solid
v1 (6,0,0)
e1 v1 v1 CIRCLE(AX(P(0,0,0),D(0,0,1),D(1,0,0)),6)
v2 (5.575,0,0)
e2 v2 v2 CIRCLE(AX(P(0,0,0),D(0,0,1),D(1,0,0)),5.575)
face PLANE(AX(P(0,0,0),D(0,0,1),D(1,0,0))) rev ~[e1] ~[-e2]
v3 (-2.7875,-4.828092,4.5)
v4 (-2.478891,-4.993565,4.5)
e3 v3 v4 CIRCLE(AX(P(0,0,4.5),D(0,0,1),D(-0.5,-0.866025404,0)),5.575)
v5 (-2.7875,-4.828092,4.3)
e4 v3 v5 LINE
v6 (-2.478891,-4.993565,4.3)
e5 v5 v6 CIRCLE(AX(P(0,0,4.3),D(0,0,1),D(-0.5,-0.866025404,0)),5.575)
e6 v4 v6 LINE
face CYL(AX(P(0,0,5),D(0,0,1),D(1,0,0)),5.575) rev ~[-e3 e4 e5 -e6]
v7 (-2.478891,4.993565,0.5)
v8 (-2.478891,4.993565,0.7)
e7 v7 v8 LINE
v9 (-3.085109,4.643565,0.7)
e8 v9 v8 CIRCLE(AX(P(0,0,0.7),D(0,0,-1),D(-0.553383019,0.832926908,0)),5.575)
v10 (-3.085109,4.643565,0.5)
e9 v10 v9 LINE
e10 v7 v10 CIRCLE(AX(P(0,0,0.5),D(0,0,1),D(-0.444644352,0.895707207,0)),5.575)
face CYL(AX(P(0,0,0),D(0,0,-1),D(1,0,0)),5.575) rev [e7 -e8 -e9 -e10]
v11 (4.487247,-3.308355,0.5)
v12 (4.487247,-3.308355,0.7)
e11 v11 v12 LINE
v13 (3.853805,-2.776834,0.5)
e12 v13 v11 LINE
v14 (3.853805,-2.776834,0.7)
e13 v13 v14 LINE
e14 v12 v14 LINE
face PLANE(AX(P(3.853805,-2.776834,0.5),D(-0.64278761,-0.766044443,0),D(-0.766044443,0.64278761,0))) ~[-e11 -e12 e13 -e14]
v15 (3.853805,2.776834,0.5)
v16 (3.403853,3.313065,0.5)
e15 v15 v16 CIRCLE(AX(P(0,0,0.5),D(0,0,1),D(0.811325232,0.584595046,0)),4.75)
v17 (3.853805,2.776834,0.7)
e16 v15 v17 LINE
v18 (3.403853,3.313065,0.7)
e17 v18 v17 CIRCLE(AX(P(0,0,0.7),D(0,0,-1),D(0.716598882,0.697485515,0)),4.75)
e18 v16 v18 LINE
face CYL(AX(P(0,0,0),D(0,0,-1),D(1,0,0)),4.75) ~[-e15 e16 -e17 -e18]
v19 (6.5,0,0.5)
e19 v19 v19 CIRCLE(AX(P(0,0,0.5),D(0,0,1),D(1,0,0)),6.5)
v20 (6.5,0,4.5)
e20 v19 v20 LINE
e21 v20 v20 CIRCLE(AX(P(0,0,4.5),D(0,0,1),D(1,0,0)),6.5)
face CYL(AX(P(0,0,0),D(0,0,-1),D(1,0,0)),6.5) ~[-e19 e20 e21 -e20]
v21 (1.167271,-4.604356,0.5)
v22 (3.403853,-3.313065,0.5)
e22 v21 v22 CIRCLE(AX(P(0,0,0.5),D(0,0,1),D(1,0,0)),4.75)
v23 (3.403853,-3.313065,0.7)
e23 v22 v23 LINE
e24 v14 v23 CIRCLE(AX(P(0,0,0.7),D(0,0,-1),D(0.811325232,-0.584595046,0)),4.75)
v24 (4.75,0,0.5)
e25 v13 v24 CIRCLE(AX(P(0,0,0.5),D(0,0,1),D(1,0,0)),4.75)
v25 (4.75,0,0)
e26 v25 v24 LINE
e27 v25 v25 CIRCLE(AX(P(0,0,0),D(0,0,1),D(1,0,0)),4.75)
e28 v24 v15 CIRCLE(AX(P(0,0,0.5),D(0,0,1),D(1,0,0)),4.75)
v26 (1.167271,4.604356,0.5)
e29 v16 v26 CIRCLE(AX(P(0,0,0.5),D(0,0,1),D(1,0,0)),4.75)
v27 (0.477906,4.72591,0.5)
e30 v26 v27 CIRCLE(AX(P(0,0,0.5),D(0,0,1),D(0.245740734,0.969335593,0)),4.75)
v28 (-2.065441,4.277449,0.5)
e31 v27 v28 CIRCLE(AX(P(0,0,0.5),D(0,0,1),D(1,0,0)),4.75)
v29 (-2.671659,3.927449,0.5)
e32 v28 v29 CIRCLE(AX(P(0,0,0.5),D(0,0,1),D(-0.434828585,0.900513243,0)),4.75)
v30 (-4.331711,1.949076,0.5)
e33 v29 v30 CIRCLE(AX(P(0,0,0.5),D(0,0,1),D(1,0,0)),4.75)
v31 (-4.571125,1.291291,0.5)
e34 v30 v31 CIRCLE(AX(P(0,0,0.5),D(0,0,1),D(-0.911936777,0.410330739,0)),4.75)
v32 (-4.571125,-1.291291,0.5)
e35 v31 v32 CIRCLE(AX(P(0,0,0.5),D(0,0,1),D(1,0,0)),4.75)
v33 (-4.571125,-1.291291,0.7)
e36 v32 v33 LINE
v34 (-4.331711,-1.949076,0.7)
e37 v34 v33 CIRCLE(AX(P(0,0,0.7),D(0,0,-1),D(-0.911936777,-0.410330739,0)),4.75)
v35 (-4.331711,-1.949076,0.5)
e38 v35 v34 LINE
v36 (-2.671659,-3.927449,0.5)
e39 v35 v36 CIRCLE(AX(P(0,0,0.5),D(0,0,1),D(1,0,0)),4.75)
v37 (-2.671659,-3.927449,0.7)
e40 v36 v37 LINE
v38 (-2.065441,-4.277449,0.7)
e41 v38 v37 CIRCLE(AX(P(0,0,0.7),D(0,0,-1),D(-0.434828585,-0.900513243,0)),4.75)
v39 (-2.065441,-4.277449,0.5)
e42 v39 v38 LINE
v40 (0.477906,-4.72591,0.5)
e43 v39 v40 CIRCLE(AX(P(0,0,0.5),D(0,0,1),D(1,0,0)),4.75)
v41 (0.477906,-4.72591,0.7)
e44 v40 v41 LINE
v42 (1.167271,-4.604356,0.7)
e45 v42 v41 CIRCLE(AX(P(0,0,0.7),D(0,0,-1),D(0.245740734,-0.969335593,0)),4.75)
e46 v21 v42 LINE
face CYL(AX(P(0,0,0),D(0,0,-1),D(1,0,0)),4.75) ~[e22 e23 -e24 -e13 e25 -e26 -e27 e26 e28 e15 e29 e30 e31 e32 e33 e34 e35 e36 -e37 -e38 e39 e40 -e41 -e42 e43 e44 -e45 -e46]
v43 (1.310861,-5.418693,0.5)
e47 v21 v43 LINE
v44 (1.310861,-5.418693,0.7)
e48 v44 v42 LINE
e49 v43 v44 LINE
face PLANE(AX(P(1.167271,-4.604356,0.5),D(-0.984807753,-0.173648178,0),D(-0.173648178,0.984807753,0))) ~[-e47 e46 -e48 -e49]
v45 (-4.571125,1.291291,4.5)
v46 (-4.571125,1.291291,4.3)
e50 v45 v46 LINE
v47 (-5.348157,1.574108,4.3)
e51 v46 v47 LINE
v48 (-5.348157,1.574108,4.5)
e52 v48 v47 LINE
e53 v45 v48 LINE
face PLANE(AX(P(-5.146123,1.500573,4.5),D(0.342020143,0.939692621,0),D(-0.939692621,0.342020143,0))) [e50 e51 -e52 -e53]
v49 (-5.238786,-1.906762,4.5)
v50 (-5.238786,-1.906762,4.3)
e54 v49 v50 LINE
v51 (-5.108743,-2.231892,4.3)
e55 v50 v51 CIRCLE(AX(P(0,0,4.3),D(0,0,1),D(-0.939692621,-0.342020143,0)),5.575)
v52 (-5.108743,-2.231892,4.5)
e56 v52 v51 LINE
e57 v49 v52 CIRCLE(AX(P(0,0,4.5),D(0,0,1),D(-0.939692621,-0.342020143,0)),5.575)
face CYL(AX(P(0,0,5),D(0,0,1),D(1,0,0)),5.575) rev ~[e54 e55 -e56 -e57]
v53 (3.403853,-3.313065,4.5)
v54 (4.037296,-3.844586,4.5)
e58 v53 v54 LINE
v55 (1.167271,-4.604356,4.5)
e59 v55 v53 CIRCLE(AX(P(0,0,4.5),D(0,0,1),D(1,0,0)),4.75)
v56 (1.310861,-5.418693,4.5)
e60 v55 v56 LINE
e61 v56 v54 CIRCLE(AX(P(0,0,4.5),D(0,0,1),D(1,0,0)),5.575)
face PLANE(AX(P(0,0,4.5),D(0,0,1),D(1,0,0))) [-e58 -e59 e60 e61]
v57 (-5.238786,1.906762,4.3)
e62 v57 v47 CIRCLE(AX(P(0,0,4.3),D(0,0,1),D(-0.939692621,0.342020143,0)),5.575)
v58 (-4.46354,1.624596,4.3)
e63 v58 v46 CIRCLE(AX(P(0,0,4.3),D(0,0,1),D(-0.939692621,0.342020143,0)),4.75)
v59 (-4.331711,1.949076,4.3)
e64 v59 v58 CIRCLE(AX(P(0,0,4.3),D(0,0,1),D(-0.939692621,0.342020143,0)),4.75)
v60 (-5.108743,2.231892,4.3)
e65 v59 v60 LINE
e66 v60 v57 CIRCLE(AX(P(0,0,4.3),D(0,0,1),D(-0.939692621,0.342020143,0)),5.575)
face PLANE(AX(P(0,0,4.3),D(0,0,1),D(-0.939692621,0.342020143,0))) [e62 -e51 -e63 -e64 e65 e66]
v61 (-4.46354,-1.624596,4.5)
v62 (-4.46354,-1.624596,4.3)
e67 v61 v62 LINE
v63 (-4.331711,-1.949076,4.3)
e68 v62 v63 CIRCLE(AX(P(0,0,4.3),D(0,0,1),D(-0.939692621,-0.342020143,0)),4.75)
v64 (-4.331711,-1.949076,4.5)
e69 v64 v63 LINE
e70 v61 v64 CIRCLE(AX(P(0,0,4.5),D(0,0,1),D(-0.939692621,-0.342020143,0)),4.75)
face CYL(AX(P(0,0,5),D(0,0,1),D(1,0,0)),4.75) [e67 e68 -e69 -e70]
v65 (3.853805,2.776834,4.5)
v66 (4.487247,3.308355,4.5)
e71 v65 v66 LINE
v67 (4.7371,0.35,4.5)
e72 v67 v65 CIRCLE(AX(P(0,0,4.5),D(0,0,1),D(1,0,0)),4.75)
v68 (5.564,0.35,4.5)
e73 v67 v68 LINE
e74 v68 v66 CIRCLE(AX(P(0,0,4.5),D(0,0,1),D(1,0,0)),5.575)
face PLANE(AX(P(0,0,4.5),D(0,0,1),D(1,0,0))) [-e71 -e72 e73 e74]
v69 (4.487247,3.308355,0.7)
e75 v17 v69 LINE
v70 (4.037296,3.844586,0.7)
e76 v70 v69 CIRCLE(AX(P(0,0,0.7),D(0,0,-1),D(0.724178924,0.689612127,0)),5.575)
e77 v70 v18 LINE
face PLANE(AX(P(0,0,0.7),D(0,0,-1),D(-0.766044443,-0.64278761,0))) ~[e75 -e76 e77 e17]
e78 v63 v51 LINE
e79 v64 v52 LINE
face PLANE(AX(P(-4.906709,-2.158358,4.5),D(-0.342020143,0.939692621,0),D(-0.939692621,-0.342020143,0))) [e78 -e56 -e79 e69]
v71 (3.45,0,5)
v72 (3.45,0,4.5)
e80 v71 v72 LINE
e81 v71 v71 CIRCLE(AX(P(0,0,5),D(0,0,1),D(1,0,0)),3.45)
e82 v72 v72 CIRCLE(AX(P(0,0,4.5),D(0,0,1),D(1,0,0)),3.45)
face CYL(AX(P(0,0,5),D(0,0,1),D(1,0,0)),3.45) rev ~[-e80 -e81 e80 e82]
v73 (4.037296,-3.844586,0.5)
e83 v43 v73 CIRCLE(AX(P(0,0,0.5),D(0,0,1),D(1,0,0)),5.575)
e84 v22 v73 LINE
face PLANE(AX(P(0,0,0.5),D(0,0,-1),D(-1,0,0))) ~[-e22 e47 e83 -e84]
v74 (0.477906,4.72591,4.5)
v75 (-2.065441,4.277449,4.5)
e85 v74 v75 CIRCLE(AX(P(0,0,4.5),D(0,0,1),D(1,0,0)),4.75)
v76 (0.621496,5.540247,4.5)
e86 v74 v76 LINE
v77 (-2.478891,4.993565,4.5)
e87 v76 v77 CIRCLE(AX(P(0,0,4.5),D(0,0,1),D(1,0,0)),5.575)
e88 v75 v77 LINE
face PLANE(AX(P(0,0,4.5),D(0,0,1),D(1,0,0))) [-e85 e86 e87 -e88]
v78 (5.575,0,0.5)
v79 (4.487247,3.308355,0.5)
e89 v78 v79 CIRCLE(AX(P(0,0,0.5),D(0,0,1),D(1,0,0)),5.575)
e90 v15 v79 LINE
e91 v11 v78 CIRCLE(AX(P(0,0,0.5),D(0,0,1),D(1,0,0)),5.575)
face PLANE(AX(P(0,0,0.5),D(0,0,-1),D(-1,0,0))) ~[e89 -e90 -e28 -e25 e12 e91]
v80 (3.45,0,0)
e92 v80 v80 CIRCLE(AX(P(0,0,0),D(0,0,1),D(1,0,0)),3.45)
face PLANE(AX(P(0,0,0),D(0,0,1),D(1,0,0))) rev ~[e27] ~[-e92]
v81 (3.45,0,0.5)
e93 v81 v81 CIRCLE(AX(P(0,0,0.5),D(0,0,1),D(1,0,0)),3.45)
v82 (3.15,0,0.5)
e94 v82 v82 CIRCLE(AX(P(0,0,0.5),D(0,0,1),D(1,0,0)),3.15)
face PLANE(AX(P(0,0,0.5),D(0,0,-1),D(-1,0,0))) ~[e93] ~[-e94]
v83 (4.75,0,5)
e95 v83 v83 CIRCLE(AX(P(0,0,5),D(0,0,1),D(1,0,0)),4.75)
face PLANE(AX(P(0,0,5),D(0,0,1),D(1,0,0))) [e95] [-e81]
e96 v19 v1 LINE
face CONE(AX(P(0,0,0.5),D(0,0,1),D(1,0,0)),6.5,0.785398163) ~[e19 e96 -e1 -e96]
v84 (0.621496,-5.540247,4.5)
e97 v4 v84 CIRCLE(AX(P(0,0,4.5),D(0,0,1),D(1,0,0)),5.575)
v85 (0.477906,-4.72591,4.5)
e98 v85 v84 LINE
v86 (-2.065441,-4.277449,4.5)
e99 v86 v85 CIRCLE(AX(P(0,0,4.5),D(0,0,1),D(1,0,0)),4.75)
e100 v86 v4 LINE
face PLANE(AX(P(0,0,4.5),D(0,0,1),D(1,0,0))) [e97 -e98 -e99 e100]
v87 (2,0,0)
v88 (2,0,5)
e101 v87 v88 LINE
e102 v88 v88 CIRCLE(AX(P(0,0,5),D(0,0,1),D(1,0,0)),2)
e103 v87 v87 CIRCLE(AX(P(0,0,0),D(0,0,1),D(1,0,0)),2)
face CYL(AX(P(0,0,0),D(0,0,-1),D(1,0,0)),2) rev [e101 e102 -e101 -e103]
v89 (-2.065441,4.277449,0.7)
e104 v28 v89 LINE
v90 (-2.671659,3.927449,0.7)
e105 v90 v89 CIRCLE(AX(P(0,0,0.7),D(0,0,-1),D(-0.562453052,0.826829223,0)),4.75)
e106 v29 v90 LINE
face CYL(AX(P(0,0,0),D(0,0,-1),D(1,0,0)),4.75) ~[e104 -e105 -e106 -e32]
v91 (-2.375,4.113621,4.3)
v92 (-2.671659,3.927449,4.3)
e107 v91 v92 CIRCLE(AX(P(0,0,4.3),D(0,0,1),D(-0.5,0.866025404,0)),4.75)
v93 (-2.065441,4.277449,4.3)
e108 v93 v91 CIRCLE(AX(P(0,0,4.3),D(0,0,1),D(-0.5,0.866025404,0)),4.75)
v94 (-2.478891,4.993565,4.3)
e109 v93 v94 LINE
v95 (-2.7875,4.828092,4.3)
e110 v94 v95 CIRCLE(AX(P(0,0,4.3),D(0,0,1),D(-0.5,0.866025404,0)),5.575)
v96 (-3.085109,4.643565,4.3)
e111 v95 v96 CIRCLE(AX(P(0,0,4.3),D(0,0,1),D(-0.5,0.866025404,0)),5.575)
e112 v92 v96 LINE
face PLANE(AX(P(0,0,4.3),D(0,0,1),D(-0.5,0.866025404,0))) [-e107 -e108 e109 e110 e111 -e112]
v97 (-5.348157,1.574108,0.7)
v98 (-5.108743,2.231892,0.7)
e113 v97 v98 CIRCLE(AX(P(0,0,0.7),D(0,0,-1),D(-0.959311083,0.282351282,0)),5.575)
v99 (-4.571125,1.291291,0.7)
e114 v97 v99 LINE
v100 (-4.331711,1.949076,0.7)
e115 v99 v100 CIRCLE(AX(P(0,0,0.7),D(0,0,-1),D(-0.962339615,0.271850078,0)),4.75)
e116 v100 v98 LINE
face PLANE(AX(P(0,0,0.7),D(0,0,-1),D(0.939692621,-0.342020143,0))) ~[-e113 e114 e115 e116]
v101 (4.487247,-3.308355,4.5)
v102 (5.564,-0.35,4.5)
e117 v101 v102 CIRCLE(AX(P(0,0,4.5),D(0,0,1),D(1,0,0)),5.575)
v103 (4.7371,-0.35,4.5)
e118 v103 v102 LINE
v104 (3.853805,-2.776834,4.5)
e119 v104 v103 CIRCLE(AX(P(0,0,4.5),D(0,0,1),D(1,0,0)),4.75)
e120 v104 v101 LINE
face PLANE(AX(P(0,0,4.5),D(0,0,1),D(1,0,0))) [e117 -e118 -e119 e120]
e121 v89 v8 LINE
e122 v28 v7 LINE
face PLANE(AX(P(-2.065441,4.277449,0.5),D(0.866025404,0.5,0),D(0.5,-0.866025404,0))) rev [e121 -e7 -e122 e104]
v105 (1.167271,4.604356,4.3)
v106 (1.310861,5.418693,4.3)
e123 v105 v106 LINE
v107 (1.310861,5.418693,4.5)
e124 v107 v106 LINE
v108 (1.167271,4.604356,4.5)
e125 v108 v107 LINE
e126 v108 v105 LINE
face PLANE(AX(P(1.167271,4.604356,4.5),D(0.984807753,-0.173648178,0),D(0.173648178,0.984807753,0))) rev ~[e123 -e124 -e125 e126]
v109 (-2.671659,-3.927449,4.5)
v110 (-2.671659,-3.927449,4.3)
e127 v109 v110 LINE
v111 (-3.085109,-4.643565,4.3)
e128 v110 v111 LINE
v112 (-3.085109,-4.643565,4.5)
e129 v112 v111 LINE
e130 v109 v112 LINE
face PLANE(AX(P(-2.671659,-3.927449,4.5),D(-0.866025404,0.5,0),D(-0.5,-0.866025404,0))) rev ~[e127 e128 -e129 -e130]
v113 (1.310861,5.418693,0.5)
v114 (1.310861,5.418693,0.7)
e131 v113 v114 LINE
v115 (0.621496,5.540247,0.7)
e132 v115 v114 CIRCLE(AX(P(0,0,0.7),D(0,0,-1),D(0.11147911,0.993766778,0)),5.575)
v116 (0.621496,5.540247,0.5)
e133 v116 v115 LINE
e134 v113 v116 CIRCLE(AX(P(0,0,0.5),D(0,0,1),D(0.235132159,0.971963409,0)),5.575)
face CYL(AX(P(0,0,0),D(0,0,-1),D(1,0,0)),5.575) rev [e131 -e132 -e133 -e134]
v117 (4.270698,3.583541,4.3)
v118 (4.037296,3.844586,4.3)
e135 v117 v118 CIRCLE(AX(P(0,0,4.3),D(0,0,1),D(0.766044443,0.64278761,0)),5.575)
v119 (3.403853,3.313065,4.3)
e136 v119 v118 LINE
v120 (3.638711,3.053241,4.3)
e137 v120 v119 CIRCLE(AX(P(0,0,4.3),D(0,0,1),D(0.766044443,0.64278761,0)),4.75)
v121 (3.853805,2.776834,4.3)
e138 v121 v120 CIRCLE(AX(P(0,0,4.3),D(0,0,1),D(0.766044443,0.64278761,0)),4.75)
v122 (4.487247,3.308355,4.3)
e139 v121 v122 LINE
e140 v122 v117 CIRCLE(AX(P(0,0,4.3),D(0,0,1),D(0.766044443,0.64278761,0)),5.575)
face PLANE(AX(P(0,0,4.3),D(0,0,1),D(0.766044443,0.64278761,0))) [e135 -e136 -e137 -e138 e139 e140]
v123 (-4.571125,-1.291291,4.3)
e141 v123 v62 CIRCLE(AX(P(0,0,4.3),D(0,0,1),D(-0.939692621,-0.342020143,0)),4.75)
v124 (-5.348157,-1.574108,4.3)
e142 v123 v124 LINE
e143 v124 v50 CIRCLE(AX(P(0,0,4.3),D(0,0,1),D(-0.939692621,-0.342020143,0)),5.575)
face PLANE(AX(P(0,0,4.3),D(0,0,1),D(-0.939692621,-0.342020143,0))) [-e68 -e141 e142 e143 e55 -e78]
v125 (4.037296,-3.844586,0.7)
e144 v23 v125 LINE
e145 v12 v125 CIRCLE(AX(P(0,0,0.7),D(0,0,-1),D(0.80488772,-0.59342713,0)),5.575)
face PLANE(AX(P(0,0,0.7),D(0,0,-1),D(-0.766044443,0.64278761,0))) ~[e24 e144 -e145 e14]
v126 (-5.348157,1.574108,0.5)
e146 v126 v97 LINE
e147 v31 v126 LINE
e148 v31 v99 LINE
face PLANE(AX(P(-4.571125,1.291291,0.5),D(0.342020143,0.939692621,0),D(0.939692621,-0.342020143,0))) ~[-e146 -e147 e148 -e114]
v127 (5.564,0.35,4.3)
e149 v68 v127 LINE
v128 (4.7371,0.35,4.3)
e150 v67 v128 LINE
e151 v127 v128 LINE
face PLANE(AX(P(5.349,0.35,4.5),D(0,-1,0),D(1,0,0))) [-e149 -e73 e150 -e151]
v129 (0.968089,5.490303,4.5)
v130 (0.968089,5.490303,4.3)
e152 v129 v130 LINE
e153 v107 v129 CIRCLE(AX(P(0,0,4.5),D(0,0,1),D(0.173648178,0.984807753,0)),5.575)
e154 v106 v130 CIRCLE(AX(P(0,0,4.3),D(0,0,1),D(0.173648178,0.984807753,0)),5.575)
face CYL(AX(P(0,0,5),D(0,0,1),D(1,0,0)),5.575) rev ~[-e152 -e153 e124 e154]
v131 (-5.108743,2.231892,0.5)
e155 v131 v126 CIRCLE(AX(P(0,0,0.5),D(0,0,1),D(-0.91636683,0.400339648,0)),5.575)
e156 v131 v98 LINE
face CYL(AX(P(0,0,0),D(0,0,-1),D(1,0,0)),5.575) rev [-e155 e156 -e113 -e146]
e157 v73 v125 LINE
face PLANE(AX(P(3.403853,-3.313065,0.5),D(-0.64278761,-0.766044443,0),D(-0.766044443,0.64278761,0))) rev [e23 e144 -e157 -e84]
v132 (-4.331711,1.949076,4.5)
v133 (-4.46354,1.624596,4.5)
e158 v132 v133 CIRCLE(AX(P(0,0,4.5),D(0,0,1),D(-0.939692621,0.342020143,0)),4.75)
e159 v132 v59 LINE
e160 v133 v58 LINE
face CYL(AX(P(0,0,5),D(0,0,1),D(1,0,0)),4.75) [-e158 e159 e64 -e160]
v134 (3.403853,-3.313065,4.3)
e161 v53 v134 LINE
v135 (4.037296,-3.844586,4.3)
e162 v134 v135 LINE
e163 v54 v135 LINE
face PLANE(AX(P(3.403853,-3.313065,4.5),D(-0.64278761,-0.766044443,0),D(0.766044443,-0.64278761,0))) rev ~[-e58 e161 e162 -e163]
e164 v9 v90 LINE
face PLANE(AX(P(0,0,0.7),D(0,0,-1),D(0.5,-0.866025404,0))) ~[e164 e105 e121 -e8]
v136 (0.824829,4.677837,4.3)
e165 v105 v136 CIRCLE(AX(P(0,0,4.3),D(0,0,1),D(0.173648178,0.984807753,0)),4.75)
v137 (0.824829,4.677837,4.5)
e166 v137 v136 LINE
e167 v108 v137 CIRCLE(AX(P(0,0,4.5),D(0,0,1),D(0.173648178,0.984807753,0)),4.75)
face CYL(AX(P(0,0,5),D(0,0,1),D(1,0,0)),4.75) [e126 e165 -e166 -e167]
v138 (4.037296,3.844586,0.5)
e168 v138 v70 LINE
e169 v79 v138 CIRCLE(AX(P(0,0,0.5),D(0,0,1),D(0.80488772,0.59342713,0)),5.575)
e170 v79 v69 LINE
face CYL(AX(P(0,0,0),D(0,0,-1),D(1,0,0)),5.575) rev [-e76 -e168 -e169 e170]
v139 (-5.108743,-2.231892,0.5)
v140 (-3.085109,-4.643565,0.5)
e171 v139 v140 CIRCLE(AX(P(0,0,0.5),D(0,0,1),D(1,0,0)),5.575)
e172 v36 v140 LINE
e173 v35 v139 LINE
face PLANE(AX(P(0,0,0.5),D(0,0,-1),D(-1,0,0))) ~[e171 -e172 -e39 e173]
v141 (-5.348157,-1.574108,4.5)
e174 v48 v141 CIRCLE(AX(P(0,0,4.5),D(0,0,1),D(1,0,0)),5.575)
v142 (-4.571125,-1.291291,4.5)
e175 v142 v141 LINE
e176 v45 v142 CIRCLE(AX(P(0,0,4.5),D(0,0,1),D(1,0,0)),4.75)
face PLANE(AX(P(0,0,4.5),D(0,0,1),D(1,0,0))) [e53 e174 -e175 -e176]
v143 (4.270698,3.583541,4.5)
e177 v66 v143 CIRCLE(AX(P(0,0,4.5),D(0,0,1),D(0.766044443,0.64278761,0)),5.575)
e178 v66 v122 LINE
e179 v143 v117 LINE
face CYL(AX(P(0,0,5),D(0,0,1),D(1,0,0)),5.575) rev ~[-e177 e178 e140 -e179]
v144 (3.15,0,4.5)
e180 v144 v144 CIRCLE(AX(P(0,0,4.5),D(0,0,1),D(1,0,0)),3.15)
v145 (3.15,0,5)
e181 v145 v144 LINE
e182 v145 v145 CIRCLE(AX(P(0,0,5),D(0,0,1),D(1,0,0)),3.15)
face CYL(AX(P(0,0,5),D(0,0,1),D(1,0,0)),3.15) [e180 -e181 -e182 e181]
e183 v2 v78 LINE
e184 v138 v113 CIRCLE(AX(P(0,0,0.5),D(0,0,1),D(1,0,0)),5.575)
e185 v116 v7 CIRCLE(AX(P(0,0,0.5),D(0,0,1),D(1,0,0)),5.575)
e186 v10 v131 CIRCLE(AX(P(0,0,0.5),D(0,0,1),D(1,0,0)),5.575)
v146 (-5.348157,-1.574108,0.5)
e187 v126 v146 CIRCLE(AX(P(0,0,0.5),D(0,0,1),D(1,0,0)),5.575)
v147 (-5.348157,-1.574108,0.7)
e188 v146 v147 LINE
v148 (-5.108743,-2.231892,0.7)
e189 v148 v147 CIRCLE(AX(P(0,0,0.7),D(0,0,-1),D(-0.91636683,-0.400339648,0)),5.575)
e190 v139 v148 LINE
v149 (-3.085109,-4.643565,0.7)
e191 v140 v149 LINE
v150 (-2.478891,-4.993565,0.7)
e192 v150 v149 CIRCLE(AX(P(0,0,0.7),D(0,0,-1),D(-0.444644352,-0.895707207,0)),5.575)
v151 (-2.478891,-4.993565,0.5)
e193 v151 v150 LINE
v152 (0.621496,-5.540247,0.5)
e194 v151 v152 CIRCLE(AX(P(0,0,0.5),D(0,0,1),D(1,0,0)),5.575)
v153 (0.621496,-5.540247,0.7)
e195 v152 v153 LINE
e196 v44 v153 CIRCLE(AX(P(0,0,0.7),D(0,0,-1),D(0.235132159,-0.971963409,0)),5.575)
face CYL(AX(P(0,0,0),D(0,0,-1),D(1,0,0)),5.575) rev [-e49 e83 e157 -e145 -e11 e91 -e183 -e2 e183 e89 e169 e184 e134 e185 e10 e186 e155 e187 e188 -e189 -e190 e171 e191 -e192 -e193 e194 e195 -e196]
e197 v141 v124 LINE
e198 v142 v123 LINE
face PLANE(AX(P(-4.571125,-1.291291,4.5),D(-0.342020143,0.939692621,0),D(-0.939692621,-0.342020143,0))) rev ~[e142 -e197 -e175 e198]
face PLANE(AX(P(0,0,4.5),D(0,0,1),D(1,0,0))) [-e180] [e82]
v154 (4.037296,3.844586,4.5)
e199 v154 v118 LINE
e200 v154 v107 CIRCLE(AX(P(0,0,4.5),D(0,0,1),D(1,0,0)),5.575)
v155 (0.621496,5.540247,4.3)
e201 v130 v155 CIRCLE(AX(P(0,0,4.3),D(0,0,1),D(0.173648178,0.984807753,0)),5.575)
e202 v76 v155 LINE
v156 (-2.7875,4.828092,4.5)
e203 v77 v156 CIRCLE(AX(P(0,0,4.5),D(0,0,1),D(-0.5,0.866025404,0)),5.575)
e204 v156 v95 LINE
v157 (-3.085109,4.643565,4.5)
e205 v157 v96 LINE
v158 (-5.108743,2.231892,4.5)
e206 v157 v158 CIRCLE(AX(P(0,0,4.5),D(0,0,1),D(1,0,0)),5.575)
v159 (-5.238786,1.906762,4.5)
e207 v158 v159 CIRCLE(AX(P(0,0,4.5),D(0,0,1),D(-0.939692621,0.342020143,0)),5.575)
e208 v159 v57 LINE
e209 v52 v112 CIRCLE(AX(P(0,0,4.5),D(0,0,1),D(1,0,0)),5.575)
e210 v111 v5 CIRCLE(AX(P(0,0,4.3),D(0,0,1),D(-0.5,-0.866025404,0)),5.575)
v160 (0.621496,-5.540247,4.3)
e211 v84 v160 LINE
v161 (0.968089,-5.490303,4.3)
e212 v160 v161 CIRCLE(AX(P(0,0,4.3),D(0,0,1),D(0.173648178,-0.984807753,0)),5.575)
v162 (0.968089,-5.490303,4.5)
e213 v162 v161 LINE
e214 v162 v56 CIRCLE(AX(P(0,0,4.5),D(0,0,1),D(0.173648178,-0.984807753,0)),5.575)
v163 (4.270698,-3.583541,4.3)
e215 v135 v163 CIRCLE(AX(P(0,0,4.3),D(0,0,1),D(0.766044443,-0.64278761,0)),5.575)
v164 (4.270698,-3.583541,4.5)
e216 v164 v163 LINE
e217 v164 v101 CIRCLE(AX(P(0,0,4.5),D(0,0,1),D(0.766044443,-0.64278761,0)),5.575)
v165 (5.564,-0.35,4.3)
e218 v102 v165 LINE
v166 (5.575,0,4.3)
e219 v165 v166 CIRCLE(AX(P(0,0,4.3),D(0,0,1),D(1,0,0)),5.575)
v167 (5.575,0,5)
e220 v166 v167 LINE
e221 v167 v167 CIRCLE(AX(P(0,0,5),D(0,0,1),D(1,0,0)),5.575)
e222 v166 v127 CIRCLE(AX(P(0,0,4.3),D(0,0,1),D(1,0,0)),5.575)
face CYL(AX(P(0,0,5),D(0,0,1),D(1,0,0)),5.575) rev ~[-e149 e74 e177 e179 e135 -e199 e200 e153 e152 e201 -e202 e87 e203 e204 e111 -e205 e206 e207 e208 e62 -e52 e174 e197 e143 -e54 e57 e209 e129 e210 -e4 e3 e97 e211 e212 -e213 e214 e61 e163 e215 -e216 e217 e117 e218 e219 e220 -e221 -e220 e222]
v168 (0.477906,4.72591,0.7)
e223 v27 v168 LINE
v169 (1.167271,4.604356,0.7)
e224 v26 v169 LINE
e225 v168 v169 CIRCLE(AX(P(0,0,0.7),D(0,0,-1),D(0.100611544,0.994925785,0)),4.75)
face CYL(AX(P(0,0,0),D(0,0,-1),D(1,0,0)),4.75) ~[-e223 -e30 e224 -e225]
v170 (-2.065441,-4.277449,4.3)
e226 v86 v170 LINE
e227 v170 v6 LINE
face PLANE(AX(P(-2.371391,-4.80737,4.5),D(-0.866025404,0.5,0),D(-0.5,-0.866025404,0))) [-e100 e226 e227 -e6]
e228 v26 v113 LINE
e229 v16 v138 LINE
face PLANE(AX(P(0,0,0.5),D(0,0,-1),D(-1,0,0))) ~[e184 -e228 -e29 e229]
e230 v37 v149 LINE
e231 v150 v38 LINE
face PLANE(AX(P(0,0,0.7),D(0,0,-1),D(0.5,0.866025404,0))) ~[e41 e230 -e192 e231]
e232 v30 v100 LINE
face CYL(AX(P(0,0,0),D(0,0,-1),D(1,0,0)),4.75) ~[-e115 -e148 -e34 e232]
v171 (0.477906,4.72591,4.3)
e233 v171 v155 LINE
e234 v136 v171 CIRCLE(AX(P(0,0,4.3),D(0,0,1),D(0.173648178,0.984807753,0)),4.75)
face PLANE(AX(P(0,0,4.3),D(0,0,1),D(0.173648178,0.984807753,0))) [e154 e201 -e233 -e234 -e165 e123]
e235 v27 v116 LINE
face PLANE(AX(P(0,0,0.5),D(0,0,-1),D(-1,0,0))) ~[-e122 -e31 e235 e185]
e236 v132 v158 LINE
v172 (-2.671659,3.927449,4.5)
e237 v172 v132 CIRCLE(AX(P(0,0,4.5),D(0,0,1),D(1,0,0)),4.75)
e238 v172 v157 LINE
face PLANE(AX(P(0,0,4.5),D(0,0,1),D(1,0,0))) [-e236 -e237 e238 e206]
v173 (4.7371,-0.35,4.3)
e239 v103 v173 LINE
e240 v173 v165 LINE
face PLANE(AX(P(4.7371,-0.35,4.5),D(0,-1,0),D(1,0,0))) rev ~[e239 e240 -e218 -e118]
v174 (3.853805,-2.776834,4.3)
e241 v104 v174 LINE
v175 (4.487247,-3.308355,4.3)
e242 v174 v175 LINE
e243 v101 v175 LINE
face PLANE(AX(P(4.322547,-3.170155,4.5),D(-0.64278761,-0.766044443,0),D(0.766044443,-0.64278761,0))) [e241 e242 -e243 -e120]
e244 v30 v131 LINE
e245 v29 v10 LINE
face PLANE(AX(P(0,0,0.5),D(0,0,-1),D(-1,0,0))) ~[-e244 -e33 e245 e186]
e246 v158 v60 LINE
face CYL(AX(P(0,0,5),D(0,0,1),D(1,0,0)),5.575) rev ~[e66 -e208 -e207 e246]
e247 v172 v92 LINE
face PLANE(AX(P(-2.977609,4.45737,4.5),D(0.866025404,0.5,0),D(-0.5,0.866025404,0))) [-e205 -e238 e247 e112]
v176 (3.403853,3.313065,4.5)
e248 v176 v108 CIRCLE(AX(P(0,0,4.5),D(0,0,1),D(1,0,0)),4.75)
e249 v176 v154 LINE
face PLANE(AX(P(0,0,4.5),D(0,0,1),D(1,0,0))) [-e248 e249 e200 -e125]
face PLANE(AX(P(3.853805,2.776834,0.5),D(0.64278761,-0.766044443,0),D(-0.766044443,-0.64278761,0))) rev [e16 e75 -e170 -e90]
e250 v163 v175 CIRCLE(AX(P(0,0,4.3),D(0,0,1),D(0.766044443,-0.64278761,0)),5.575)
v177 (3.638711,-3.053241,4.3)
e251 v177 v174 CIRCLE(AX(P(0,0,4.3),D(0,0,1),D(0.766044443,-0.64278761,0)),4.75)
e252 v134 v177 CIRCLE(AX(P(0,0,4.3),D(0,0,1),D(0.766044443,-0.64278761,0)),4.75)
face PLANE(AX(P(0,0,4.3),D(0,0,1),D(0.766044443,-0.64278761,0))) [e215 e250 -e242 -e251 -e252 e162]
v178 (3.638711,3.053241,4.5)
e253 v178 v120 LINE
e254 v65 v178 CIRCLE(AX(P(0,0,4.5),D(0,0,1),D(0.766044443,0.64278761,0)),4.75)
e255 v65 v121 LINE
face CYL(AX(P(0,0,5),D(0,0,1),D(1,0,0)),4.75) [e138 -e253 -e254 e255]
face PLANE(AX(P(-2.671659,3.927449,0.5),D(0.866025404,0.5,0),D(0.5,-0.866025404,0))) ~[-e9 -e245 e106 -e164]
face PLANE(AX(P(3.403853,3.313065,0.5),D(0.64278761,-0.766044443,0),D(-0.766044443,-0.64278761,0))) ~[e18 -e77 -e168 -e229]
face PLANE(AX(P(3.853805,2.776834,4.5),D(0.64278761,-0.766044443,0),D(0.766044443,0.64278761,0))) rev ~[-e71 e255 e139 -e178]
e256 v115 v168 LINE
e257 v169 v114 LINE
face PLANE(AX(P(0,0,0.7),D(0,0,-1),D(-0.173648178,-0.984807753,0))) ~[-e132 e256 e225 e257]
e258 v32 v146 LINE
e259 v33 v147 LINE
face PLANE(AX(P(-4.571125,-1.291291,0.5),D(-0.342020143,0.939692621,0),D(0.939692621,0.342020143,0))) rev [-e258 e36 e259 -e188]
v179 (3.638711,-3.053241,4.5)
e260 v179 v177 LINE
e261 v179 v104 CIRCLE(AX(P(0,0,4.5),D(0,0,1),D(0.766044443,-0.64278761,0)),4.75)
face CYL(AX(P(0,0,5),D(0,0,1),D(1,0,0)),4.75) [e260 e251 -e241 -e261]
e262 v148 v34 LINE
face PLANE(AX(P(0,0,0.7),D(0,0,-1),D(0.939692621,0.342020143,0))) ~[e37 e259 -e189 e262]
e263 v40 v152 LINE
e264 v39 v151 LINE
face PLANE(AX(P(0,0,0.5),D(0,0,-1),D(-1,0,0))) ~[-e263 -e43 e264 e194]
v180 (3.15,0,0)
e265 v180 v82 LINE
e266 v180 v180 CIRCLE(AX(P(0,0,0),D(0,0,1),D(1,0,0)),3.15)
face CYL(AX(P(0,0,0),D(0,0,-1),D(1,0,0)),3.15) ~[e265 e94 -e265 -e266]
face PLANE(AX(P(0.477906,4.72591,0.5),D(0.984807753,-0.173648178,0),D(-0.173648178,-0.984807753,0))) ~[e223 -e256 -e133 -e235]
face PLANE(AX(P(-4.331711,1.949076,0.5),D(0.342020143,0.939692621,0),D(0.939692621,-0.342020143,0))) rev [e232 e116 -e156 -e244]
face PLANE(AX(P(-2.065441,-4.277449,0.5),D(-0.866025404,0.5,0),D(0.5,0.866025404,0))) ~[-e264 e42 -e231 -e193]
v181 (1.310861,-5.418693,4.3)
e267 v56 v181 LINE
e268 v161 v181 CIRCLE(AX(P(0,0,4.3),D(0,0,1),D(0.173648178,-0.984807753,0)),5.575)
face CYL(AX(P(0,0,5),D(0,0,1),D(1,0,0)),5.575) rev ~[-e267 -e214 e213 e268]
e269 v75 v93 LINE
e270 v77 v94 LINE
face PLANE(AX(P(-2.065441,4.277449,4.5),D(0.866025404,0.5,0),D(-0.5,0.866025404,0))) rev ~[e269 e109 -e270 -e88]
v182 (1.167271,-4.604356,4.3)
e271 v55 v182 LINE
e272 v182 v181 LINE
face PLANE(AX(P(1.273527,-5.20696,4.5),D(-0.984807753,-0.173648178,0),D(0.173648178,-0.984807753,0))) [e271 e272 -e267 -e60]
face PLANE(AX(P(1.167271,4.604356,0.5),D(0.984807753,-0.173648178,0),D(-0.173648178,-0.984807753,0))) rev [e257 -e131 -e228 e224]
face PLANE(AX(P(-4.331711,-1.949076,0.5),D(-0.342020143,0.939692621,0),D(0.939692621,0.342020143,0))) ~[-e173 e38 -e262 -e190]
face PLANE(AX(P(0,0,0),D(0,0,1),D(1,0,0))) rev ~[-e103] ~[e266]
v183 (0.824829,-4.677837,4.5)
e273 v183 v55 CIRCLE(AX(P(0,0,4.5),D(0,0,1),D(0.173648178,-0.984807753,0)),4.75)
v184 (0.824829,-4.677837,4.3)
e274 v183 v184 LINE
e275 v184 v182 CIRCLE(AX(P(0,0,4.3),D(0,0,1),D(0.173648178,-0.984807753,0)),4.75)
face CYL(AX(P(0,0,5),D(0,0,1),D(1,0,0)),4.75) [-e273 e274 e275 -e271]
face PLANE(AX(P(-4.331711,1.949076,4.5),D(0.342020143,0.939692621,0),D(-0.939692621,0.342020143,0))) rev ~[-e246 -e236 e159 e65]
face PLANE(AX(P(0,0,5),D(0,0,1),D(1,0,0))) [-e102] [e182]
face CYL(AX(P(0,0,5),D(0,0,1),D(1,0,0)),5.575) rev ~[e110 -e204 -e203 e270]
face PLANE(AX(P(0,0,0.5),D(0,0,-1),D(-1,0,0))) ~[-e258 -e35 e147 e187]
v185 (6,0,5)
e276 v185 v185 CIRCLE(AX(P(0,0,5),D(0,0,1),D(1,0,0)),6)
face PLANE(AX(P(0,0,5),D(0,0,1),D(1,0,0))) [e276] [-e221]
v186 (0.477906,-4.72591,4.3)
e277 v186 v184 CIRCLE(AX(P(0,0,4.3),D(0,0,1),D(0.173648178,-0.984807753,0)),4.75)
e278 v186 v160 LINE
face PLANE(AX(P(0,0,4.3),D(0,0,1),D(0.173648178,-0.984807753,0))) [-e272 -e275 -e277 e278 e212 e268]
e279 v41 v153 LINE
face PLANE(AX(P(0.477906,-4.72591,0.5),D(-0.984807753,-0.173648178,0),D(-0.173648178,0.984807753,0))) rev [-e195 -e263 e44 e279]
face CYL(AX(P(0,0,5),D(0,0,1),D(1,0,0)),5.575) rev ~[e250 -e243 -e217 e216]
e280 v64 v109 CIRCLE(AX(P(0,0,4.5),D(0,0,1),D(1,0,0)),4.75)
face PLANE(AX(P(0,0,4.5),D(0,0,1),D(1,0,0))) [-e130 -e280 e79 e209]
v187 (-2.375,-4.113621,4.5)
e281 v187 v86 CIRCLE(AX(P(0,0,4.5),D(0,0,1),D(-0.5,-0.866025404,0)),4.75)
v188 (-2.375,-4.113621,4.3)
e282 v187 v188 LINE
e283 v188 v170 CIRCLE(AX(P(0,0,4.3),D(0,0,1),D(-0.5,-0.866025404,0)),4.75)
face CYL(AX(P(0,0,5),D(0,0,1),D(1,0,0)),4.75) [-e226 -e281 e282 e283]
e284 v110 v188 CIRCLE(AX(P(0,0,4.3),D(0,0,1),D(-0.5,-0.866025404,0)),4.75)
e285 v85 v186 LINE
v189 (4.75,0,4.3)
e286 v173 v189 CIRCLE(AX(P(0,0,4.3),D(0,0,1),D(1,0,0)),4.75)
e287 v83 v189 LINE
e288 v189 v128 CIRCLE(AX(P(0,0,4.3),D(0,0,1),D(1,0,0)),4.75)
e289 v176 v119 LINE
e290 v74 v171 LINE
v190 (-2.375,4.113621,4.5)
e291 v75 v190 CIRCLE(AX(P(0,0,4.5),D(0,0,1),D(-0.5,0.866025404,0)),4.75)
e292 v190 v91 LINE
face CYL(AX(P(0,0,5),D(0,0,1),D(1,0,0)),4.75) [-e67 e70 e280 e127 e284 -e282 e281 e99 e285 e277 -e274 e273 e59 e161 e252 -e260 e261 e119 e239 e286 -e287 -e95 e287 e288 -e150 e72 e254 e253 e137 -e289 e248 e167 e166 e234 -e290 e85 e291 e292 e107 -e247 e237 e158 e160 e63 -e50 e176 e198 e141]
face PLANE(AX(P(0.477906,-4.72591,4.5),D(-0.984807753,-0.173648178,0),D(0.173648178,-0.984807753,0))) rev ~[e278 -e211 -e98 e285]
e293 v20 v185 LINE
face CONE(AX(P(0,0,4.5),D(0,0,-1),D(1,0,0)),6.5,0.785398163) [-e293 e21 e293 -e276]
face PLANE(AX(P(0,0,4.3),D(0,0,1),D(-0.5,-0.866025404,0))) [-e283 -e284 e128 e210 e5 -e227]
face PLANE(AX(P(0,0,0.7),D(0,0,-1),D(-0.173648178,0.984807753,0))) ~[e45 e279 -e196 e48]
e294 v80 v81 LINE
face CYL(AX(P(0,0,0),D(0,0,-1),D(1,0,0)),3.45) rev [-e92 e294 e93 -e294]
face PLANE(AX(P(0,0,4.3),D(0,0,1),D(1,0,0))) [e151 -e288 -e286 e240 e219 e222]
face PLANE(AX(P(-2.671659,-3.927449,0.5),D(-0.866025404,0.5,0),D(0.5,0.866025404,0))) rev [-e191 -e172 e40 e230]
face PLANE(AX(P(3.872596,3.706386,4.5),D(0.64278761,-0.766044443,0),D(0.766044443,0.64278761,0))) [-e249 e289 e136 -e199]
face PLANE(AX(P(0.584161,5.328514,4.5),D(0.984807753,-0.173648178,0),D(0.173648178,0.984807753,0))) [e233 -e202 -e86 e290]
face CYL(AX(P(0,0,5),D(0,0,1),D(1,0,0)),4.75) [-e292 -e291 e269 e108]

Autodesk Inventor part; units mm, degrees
ref_plane "YZ Plane" through (0, 0, 0) normal (1, 0, 0) x (0, 1, 0)
ref_plane "XZ Plane" through (0, 0, 0) normal (0, 1, 0) x (-1, 0, 0)
sketch "Sketch1" plane through (0, 0, 0) normal (0, 0, 1) x (1, 0, 0)
  circle A0 centre (0, 0) radius 6.5
  circle A1 centre (0, 0) radius 2
  dimension "d0" = 13
  dimension "d1" = 4
extrude "Extrusion1" add sketch "Sketch1" along normal blind 5
chamfer "Chamfer1" distance 0.5 angle 45 2 edges at (-6.5, 0, 5) (-6.5, 0, 0)
sketch "Sketch2" plane through (0, 0, 5) normal (0, 0, 1) x (1, 0, 0)
  circle A0 centre (0, 0) radius 6 projected
  circle A1 centre (0, 0) radius 3.15
  circle A2 centre (0, 0) radius 3.45
  circle A3 centre (0, 0) radius 4.75
  circle A4 centre (0, 0) radius 5.575
  dimension "d7" = 6.3
  dimension "d8" = 6.9
  dimension "d9" = 9.5
  dimension "d10" = 11.15
extrude "Extrusion2" cut sketch "Sketch2" against normal blind 0.5 contours A2 | A4
ref_plane "Work Plane1" through (0, 0, 2.5) normal (0, 0, -1) x (-1, 0, 0)
sketch "Sketch3" plane through (0, 0, 4.5) normal (0, 0, 1) x (1, 0, 0)
  circle A0 centre (0, 0) radius 4.75 projected
  circle A1 centre (0, 0) radius 5.575 projected
  circle A2 centre (0, 0) radius 4.75 construction
  circle A3 centre (0, 0) radius 5.575 construction
  line L0 (-9.1, 0) -> (9.1, 0) construction
  line L1 (4.6568, 0.35) -> (5.7132, 0.35)
  line L2 (4.5944, -0.35) -> (5.8021, -0.35)
  line L3 (5.349, 0.35) -> (5.7285, 0.35)
  arc A4 (4.7371, -0.35) -> (4.7371, 0.35) centre (0, 0) ccw
  arc A5 (5.564, -0.35) -> (5.564, 0.35) centre (0, 0) ccw
  dimension "d14" = 0.35
  dimension "d15" = 0.35
extrude "Extrusion3" cut sketch "Sketch3" against normal blind 0.2 contours A0 L1 A1 L2 picked at (5.2247, 0.1167)
pattern_circular "Circular Pattern1" count 9 over 360 about axis through (0, 0, -10) along (0, 0, 1) of "Extrusion3"
mirror "Mirror1" about plane through (0, 0, 2.5) normal (0, 0, -1) of "Circular Pattern1", "Extrusion2"
properties part number "Bearing-605zz" material "Stainless Steel"
